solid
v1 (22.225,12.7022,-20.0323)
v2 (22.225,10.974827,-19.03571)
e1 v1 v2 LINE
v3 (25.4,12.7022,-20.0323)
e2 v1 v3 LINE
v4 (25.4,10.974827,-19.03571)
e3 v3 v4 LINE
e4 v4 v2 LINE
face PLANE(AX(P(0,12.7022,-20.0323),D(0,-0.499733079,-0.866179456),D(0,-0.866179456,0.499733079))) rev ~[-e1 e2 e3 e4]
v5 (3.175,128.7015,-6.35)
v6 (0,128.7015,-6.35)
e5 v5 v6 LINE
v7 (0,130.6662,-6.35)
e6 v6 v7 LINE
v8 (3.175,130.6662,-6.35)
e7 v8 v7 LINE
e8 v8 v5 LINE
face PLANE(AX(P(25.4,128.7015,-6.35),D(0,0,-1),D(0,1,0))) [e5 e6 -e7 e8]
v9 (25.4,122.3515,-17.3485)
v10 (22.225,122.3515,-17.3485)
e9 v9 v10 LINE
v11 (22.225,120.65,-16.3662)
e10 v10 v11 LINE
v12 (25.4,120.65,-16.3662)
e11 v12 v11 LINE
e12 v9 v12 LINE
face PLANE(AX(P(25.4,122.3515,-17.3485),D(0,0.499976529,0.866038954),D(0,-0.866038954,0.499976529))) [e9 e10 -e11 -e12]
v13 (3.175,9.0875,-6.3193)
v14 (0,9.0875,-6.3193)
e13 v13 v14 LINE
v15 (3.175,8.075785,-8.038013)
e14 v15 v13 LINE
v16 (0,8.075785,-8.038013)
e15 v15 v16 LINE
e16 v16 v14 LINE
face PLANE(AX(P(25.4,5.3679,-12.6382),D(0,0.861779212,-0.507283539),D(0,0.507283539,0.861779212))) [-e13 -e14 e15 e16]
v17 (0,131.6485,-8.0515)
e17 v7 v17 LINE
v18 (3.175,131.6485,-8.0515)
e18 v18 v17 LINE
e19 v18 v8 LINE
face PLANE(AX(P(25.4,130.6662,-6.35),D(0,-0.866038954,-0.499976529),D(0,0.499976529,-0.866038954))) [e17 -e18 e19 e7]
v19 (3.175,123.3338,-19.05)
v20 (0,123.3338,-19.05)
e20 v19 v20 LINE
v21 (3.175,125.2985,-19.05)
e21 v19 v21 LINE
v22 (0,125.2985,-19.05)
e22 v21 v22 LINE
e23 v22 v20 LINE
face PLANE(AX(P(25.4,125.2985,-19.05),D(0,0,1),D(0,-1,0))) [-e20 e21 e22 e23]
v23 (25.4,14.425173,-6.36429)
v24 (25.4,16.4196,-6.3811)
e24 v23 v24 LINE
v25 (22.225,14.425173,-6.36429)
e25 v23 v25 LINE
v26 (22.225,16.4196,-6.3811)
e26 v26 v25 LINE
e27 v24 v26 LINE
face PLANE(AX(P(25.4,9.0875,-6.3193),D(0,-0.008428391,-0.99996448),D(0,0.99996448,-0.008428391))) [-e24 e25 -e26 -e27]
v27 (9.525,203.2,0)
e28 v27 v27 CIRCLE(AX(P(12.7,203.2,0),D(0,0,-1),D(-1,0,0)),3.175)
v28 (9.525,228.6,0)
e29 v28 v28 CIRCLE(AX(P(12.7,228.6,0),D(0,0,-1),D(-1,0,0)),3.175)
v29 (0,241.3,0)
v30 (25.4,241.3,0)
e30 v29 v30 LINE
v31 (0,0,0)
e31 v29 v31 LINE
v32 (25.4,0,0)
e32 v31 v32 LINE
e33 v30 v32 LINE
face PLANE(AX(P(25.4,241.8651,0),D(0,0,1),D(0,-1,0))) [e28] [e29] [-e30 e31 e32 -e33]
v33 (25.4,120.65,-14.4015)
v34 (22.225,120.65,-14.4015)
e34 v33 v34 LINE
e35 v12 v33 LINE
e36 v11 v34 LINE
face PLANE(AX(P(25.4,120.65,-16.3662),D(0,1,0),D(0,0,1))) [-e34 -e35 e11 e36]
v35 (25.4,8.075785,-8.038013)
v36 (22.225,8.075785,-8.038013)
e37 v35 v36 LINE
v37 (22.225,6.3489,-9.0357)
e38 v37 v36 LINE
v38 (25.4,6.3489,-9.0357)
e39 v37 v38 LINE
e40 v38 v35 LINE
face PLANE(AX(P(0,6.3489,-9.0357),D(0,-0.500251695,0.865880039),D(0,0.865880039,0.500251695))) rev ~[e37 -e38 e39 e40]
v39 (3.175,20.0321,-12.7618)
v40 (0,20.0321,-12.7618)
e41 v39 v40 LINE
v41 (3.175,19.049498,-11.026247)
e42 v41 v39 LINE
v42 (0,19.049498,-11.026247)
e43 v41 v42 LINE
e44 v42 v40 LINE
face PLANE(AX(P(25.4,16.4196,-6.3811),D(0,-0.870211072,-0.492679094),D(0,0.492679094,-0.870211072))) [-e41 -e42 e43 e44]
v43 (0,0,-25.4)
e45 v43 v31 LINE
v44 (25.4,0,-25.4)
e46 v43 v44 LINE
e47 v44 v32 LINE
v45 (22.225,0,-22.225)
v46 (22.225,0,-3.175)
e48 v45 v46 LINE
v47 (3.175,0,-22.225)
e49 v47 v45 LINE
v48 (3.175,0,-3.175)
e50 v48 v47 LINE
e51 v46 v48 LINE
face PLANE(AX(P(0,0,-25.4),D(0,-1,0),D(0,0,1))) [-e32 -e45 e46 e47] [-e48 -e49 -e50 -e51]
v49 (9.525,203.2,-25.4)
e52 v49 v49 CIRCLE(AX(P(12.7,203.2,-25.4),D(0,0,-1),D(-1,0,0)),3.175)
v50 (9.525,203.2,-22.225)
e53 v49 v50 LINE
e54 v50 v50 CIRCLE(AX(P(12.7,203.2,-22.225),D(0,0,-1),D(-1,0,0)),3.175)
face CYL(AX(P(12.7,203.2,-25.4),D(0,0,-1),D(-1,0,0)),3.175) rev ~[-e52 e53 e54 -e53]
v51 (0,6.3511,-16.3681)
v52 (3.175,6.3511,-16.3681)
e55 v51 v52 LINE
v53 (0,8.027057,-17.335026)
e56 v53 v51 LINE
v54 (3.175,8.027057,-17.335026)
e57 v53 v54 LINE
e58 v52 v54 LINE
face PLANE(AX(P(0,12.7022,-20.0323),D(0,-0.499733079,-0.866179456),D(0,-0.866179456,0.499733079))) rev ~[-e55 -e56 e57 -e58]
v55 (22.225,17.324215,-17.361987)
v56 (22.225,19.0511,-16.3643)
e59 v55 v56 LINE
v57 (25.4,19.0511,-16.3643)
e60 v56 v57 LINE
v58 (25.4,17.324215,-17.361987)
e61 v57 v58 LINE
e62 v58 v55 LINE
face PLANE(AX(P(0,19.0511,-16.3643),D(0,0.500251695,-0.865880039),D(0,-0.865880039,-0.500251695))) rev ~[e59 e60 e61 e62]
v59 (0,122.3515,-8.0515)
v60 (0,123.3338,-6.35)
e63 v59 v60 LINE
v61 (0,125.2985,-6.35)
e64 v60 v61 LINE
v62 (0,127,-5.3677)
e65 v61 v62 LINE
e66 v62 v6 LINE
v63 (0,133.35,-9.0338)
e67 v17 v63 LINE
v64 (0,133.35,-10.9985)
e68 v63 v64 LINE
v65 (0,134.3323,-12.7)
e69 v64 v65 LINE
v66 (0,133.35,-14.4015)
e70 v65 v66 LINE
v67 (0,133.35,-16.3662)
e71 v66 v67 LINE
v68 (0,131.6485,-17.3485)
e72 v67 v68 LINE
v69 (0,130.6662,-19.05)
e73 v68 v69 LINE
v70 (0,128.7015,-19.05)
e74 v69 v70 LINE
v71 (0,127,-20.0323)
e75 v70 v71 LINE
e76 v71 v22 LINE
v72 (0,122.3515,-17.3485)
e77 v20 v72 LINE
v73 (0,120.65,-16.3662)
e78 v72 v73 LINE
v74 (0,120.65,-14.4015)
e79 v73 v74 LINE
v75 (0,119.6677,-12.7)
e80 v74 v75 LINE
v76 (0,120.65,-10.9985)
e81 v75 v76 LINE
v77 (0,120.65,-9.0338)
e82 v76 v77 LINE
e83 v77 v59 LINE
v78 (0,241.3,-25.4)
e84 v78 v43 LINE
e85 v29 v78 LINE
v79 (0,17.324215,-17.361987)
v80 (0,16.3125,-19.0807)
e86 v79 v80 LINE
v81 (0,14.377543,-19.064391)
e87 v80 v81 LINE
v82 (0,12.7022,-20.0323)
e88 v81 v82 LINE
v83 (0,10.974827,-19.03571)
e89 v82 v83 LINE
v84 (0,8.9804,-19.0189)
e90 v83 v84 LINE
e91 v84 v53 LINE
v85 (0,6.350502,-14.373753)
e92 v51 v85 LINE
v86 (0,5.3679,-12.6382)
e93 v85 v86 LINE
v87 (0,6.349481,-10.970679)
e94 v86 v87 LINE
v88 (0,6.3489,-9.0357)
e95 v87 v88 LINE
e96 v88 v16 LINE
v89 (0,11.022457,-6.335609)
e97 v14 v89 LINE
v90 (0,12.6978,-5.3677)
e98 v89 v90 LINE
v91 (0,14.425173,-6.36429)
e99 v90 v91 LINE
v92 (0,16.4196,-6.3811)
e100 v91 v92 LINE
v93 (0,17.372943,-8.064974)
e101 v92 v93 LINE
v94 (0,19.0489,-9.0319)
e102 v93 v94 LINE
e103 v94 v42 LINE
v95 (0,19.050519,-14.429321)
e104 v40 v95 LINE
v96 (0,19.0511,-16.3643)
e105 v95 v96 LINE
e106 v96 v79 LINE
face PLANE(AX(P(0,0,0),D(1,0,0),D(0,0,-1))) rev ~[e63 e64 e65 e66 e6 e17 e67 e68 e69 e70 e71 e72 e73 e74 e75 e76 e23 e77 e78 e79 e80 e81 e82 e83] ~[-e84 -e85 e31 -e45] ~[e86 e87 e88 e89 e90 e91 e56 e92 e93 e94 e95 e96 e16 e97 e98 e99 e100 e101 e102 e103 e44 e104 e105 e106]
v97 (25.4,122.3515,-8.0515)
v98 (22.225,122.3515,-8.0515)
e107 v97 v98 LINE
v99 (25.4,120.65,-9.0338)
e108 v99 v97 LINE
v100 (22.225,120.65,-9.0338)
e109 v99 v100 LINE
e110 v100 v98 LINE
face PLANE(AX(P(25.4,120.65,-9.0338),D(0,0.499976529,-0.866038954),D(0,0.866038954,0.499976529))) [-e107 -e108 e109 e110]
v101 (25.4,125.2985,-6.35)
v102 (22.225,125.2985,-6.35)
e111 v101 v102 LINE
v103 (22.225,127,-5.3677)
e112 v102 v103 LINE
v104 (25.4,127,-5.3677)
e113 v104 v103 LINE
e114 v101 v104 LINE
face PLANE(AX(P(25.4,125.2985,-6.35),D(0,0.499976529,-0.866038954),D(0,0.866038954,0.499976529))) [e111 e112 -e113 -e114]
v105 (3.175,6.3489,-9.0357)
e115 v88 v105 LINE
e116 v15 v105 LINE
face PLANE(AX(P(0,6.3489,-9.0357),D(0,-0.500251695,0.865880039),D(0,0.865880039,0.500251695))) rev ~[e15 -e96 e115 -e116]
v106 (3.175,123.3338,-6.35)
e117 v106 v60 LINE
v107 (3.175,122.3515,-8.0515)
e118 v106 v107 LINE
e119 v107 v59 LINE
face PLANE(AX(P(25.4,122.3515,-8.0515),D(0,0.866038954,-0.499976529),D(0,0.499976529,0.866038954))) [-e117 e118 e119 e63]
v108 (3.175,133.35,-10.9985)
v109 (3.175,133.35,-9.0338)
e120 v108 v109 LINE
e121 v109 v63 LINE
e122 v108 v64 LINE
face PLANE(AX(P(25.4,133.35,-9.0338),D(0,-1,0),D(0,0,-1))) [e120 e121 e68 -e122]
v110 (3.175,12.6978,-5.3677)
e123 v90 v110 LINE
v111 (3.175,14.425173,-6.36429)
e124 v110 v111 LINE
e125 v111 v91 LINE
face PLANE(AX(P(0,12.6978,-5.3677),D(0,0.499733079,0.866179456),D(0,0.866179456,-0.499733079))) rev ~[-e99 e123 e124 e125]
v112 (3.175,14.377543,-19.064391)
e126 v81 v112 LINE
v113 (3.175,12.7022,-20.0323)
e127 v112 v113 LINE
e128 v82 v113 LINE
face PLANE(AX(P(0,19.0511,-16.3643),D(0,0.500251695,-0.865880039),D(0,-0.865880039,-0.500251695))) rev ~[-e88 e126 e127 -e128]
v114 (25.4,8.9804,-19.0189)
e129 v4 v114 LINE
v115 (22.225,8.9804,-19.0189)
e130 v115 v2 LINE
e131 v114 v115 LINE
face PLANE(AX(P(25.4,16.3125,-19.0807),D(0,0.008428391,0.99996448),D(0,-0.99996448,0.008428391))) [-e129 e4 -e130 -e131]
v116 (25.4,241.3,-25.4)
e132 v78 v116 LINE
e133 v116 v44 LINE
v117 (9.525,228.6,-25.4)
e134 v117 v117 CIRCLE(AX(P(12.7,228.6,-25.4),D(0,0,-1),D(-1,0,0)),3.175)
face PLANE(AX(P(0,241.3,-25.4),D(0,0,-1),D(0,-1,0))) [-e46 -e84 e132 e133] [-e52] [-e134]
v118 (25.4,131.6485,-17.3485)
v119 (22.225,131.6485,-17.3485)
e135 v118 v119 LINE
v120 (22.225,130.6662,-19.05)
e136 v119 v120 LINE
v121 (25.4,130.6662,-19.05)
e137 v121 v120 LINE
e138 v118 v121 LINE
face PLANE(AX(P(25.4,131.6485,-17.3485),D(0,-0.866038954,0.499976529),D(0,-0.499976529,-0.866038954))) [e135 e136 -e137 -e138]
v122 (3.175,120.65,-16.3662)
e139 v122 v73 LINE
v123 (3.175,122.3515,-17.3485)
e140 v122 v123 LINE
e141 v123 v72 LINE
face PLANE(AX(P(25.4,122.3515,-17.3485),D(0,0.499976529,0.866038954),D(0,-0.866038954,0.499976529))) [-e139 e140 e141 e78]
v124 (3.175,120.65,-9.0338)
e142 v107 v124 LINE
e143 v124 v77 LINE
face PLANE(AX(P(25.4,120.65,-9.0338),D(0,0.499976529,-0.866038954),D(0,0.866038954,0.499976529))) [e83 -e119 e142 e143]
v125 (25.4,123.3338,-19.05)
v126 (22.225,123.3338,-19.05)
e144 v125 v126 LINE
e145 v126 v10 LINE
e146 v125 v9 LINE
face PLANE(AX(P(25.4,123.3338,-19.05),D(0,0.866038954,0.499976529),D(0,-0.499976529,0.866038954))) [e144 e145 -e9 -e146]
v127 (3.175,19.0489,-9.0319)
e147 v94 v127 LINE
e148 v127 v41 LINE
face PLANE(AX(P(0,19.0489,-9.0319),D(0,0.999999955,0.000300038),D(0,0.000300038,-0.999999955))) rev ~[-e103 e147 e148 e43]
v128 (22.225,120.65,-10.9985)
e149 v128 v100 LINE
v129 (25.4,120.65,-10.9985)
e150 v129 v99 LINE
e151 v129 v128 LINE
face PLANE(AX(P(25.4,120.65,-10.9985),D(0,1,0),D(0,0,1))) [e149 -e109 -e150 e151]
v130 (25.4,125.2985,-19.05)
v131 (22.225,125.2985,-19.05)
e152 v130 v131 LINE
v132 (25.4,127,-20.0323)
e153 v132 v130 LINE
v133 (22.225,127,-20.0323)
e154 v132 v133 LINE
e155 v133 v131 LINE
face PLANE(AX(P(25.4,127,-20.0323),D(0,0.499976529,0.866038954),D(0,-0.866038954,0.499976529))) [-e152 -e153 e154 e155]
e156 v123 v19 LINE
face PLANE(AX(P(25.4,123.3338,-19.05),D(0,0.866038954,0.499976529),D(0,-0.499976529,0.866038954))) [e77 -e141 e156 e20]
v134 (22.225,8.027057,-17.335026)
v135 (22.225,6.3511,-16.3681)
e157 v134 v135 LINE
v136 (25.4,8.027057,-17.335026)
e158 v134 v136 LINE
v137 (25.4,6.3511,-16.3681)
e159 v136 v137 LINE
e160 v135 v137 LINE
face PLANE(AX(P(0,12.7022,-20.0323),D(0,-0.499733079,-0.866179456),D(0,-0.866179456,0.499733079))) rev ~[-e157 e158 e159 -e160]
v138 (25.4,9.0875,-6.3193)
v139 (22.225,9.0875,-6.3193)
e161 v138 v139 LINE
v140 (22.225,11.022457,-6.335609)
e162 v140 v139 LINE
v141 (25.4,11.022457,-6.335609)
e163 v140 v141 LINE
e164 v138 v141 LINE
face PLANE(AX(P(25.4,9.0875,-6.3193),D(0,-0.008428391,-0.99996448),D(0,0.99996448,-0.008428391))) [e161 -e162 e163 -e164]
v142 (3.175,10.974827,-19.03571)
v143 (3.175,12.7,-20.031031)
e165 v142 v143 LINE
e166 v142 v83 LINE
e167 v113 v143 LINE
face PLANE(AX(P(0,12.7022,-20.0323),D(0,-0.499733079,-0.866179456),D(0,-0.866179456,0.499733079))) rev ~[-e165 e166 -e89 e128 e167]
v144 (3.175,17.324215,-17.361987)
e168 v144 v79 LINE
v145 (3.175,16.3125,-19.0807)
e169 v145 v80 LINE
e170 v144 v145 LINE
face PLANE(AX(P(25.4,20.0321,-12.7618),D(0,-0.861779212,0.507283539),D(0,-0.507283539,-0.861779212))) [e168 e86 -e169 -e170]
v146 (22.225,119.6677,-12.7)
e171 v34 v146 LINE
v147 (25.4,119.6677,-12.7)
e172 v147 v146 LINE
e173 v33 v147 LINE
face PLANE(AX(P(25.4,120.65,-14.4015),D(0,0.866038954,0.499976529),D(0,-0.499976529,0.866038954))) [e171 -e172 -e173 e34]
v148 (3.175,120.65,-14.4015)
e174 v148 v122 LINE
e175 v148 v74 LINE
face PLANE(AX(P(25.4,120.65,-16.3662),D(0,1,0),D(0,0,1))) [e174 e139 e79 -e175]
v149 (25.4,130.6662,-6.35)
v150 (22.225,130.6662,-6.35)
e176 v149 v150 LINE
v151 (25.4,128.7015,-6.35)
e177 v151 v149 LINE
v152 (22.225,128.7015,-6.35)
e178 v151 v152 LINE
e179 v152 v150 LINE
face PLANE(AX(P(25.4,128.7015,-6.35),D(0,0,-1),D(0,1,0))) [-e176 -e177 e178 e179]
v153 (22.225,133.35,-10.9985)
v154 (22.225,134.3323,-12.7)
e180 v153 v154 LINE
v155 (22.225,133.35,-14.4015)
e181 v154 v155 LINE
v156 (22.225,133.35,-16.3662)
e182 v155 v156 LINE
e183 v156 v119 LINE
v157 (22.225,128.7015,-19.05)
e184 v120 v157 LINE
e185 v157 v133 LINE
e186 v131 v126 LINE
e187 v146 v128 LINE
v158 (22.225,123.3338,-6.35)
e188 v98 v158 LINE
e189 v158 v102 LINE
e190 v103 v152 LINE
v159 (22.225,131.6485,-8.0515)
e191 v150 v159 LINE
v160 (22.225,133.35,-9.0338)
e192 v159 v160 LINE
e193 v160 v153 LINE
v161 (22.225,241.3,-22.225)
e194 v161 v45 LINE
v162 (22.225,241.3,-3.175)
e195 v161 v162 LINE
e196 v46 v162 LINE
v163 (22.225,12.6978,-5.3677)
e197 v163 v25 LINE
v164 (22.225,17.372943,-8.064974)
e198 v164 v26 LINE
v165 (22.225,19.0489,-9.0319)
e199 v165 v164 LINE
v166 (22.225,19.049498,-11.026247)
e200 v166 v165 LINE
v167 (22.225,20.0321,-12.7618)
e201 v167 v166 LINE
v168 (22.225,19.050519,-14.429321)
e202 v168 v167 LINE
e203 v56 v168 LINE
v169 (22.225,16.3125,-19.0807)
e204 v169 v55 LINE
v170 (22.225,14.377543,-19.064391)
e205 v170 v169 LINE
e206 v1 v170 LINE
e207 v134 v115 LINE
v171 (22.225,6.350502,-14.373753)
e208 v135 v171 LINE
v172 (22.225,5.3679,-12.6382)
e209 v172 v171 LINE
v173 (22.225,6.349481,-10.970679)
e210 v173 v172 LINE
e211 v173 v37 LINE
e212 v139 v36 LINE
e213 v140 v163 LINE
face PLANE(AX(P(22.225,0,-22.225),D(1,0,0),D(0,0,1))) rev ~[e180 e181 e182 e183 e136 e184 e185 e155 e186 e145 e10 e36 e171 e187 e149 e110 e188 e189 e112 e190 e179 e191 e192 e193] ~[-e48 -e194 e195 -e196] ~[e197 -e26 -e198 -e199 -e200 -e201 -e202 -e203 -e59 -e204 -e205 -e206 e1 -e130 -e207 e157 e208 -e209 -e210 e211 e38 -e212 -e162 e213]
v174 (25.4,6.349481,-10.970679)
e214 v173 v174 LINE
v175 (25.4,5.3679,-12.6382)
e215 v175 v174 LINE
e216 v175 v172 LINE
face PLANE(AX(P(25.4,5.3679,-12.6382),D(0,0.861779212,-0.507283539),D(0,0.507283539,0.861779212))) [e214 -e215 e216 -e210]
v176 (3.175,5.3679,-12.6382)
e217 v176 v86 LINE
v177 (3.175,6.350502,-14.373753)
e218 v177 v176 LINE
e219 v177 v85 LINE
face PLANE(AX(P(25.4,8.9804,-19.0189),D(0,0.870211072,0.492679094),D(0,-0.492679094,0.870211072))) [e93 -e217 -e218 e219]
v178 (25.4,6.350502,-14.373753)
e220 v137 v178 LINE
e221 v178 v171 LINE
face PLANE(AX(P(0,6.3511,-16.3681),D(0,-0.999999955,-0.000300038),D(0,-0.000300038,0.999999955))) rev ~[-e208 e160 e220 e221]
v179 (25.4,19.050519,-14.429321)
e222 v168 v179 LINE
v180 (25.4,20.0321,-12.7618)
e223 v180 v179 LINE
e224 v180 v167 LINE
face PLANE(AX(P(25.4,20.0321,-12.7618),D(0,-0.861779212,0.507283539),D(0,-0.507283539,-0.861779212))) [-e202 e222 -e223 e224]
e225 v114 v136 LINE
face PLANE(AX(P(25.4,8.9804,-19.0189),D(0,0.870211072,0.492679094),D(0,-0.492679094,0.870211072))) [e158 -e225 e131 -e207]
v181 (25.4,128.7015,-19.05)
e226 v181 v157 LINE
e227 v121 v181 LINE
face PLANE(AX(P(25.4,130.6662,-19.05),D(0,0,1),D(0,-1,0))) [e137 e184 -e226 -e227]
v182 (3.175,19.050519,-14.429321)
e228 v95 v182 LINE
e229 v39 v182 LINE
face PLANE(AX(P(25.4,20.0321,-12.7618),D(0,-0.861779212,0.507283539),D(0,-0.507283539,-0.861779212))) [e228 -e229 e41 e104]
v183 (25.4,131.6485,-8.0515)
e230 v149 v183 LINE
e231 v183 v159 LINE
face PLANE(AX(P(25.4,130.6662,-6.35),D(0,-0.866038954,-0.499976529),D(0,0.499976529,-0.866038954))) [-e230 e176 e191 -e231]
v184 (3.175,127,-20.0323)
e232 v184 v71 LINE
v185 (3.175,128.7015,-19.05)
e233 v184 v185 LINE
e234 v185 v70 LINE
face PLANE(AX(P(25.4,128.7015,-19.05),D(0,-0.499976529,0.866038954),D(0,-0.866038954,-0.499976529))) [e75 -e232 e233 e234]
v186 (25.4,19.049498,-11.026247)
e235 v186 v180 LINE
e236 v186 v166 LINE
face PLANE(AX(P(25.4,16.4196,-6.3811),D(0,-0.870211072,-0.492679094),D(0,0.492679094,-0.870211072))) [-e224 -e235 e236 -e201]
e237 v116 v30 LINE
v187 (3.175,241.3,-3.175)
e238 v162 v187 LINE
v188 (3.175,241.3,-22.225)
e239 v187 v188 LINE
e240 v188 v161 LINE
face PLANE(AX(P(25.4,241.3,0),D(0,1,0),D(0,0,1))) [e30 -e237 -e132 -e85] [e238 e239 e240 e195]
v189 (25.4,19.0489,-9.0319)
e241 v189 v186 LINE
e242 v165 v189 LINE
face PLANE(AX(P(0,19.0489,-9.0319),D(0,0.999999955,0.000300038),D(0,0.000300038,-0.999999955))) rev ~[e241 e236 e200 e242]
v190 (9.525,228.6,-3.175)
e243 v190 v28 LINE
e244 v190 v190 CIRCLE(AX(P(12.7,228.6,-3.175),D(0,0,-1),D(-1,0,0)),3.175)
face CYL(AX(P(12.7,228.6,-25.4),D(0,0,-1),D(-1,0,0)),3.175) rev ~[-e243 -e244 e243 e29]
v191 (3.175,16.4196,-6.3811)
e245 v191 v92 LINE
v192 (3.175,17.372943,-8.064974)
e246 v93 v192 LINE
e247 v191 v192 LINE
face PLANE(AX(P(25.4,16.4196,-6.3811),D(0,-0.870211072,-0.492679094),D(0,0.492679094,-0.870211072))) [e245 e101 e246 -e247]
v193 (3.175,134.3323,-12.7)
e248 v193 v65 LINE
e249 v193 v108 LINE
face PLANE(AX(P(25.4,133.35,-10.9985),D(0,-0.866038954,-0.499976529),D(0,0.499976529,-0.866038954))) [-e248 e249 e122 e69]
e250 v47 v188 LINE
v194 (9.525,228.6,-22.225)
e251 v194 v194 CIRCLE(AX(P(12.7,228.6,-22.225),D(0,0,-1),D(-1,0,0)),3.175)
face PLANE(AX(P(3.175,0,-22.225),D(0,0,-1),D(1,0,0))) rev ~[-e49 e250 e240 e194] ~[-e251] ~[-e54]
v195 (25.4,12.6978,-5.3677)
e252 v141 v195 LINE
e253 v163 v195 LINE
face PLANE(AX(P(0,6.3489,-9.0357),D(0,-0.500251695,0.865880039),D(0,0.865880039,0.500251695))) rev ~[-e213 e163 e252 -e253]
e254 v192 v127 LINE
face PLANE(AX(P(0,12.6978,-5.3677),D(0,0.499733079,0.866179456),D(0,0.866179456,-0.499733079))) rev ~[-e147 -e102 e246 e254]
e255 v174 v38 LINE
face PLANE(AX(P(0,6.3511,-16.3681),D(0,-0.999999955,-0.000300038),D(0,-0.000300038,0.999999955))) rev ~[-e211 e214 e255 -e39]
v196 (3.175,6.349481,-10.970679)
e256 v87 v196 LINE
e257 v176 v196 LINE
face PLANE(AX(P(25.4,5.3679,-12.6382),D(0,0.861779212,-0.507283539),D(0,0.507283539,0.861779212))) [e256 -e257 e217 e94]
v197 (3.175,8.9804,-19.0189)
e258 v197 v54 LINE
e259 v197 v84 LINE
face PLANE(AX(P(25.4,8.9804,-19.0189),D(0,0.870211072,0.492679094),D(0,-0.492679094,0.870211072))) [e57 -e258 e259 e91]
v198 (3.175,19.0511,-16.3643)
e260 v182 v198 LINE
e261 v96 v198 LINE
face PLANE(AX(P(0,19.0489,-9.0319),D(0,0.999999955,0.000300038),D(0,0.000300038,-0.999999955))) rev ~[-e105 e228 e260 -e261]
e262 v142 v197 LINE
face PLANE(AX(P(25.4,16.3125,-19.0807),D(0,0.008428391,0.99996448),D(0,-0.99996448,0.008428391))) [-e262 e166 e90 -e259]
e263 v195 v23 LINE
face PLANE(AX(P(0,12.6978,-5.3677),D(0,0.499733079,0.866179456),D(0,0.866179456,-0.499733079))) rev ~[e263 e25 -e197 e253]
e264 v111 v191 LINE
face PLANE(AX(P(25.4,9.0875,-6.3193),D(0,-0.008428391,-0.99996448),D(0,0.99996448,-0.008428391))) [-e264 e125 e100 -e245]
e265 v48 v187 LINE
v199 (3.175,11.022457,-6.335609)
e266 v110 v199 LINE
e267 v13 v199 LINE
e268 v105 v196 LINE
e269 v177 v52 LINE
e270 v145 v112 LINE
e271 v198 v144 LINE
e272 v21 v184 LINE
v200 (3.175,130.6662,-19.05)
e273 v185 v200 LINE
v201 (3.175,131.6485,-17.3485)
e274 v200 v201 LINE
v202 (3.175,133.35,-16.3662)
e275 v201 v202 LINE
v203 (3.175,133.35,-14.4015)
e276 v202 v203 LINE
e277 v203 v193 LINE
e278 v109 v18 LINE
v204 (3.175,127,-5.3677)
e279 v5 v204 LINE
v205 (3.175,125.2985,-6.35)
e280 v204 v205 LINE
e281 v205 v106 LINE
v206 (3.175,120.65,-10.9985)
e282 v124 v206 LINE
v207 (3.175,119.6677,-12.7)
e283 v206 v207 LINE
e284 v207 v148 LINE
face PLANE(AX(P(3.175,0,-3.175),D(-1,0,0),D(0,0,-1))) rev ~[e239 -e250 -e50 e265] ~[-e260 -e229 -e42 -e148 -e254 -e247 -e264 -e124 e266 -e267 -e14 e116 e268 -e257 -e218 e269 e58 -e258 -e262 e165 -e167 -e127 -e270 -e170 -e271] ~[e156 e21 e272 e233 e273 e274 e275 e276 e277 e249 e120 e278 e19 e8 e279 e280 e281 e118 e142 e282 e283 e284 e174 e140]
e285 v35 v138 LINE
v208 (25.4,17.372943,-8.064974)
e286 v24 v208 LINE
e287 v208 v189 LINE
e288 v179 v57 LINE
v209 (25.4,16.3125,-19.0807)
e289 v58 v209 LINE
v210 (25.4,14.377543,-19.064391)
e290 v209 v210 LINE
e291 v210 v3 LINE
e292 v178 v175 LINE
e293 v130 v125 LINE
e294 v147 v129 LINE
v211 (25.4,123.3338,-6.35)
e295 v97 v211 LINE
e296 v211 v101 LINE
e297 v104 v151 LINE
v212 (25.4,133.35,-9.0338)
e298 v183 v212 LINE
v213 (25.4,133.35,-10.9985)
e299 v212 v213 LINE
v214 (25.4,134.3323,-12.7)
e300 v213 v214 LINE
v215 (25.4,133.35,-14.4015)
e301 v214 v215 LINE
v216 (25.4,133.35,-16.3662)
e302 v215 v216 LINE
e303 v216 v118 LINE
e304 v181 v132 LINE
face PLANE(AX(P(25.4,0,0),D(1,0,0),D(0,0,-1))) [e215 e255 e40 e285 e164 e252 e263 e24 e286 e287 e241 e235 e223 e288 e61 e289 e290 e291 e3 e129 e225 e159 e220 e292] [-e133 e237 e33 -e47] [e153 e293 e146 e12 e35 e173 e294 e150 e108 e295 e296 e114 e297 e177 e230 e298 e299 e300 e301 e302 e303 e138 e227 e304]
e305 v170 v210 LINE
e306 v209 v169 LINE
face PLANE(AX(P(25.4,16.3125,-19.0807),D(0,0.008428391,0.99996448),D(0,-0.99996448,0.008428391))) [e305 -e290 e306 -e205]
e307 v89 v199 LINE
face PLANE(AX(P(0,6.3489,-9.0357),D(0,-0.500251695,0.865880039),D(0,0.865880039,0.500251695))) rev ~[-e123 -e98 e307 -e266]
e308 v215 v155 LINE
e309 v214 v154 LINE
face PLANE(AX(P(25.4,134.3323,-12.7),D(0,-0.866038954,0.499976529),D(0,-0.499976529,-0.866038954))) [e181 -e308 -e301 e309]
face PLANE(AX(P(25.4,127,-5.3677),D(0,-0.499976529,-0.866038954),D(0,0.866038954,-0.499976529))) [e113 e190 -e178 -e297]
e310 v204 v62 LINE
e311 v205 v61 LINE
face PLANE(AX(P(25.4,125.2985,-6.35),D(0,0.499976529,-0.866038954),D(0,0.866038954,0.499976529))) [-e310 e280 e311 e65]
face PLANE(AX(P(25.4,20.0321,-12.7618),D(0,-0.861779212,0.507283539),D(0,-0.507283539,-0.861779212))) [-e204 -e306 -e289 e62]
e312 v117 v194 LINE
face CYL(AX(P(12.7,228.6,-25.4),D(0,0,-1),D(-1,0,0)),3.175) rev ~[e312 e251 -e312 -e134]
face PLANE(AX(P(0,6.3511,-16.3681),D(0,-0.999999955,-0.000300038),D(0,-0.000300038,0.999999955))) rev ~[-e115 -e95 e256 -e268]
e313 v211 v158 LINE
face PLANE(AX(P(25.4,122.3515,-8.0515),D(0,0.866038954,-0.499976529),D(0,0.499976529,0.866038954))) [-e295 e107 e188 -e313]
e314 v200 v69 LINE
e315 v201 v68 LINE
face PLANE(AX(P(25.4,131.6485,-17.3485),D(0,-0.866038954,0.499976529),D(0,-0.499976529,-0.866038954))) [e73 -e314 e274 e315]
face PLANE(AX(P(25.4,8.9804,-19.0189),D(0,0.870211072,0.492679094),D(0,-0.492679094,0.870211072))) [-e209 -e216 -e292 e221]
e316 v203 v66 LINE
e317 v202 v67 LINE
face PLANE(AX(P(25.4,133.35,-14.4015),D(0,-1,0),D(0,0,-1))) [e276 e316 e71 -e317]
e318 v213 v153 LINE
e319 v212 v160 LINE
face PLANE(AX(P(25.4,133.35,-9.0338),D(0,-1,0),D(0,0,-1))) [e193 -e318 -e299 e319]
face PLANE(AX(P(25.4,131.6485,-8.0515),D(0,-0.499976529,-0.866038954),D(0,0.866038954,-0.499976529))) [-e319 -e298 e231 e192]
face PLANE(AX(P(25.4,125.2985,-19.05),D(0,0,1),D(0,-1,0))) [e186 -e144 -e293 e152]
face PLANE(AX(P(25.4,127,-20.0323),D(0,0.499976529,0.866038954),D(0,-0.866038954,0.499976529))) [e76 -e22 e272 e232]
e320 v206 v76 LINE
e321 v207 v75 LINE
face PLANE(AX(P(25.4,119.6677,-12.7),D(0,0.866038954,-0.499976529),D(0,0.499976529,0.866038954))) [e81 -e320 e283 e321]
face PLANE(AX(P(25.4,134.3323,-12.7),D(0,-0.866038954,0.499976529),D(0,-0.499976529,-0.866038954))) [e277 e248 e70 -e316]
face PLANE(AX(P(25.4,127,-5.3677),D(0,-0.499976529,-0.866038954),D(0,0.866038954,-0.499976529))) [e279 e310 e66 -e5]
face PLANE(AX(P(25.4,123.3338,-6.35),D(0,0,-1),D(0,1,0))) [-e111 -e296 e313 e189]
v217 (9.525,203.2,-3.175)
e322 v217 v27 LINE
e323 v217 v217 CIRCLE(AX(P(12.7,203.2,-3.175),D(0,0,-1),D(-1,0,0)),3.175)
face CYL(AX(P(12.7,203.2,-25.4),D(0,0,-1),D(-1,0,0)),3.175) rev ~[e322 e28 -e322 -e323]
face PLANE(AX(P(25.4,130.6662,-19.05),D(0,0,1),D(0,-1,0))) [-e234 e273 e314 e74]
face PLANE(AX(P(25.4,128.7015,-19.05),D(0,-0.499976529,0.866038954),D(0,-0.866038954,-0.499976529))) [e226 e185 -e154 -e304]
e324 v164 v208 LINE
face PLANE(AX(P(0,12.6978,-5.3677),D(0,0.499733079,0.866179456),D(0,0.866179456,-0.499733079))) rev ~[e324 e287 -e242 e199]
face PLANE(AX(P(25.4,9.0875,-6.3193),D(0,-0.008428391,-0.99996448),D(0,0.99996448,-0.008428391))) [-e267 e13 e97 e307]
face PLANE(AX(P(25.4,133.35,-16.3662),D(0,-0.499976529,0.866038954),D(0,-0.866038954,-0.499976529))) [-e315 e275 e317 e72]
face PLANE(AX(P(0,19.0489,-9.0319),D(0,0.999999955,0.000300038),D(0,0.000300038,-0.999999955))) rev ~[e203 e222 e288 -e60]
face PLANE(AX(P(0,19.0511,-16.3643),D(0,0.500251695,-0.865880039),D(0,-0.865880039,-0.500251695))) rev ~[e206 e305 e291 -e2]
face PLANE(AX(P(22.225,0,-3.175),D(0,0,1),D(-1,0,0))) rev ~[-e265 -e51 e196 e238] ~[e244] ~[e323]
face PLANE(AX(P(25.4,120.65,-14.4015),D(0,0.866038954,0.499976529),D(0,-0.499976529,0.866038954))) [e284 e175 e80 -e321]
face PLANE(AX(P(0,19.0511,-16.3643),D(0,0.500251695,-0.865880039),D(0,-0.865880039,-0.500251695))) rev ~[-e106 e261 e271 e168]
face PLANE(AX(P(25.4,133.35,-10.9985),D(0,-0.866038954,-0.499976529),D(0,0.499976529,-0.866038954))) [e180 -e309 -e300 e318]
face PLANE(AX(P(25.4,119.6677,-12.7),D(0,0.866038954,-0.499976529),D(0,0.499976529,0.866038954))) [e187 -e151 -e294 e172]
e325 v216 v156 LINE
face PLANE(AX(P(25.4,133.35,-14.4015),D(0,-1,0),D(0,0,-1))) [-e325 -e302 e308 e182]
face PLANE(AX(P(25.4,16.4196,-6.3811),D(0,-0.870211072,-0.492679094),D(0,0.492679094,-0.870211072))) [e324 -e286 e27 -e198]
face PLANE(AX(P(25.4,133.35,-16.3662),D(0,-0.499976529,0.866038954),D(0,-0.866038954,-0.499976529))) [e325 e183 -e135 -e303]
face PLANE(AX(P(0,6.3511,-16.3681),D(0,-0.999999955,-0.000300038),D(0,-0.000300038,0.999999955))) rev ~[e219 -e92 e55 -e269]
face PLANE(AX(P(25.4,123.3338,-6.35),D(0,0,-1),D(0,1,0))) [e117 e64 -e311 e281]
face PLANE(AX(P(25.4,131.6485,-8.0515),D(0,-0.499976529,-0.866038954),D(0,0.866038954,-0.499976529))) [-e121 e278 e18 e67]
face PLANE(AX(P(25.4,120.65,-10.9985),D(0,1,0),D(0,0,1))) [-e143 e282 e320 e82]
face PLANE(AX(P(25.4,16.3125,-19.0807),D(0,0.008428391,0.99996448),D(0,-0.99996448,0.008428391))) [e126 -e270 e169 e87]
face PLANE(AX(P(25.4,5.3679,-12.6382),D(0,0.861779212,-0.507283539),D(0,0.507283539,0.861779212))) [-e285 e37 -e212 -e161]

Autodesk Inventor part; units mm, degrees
ref_plane "YZ Plane" through (0, 0, 0) normal (1, 0, 0) x (0, 1, 0)
ref_plane "XZ Plane" through (0, 0, 0) normal (0, 1, 0) x (-1, 0, 0)
ref_plane "XY Plane" through (0, 0, 0) normal (0, 0, 1) x (1, 0, 0)
sketch "Sketch1" plane through (0, 0, 0) normal (1, 0, 0) x (0, 1, 0)
  line L0 (0, 0) -> (241.3, 0)
  line L1 (241.3, 0) -> (241.3, -25.4)
  line L2 (241.3, -25.4) -> (0, -25.4)
  line L3 (0, -25.4) -> (0, 0)
  line L4 (6.3489, -9.0357) -> (12.6978, -5.3677)
  line L5 (12.6978, -5.3677) -> (19.0489, -9.0319)
  line L6 (19.0489, -9.0319) -> (19.0511, -16.3643)
  line L7 (19.0511, -16.3643) -> (12.7022, -20.0323)
  line L8 (12.7022, -20.0323) -> (6.3511, -16.3681)
  line L9 (6.3511, -16.3681) -> (6.3489, -9.0357)
  point P0 (12.7, -12.7)
  dimension "d0" = 241.3
  dimension "d1" = 25.4
  dimension "d3" = 12.7
  dimension "d4" = 12.7
extrude "Extrusion1" add sketch "Sketch1" along normal blind 25.4
sketch "Sketch2" plane through (0, 241.3, 0) normal (0, 1, 0) x (1, 0, 0)
  line L0 (0, 25.4) -> (25.4, 25.4) projected
  line L1 (0, 0) -> (25.4, 0)
  line L2 (25.4, 0) -> (25.4, 25.4)
  line L3 (25.4, 25.4) -> (0, 25.4)
  line L4 (0, 25.4) -> (0, 0)
  line L5 (22.225, 3.175) -> (3.175, 3.175)
  line L6 (3.175, 3.175) -> (3.175, 22.225)
  line L7 (3.175, 22.225) -> (22.225, 22.225)
  line L8 (22.225, 22.225) -> (22.225, 3.175)
  dimension "d7" = 3.175
extrude "Extrusion2" cut sketch "Sketch2" against normal blind 228.6 contours L5 L6 L7 L8
sketch "Sketch3" plane through (25.4, 0, 0) normal (1, 0, 0) x (0, 0, -1)
  line L0 (0, 241.3) -> (0, 190.5)
  line L1 (0, 0) -> (0, 241.3) projected
  line L2 (0, 241.3) -> (-3.175, 241.3)
  line L3 (-3.175, 241.3) -> (-3.175, 190.5)
  line L4 (-3.175, 190.5) -> (0, 190.5)
  line L5 (0, 190.5) -> (0, 241.3)
  arc A0 (-3.175, 241.3) -> (-46.143, 196.9282) centre (-8.4506, 203.4185) ccw
  line L6 (-3.175, 241.3) -> (-3.175, 238.125)
  arc A1 (-3.175, 238.125) -> (-42.9327, 197.9157) centre (-7.6224, 202.7623) ccw
  line L7 (-42.9327, 197.9157) -> (-46.143, 196.9282)
  dimension "d11" = 50.8
  dimension "d13" = 3.175
  dimension "d15" = 3.175
extrude "Extrusion3" add sketch "Sketch3" against normal blind 25.4 contours L0 L4 L3 L2
sketch "Sketch4" plane through (25.4, 0, 0) normal (1, 0, 0) x (0, 0, -1)
  point P0 (0, 0)
sketch "Sketch5" plane through (25.4, 0, 0) normal (1, 0, 0) x (0, 0, -1)
  line L0 (-3.175, 241.3) -> (-3.175, 190.5) projected
  line L1 (-3.175, 241.3) -> (-3.175, 196.85)
  line L2 (-3.175, 196.85) -> (-41.275, 196.85)
  arc A0 (-3.175, 241.3) -> (-41.275, 196.85) centre (-8.1247, 206.989) ccw
  line L3 (-41.275, 196.85) -> (-38.5091, 198.4089)
  line L4 (-3.175, 241.3) -> (-3.175, 238.125)
  arc A1 (-3.175, 238.125) -> (-38.5091, 198.4089) centre (-8.433, 207.227) ccw
  point P0 (0, 0)
  dimension "d18" = 44.45
  dimension "d19" = 38.1
  dimension "d20" = 3.175
  dimension "d21" = 3.175
extrude "Extrusion4" add sketch "Sketch5" against normal blind 25.4 contours L0 A1 L3 A0
sketch "Sketch6" plane through (25.4, 0, 0) normal (1, 0, 0) x (0, 0, -1)
  line L0 (0, 0) -> (25.4, 0) projected
  line L1 (25.4, 0) -> (25.4, 241.3) projected
  line L2 (12.7618, 20.0321) -> (19.0807, 16.3125)
  line L3 (19.0807, 16.3125) -> (19.0189, 8.9804)
  line L4 (19.0189, 8.9804) -> (12.6382, 5.3679)
  line L5 (12.6382, 5.3679) -> (6.3193, 9.0875)
  line L6 (6.3193, 9.0875) -> (6.3811, 16.4196)
  line L7 (6.3811, 16.4196) -> (12.7618, 20.0321)
  point P0 (12.7, 12.7)
  point P1 (12.7, 12.7)
  dimension "d25" = 12.7
  dimension "d26" = 12.7
  dimension "d27" = 12.7
extrude "Extrusion5" cut sketch "Sketch6" against normal blind 25.4
sketch "Sketch7" plane through (25.4, 0, 0) normal (1, 0, 0) x (0, 0, -1)
  line L0 (0, 0) -> (0, 190.5) projected
  line L1 (0, 190.5) -> (-43.4485, 190.5)
  line L2 (-43.4485, 190.5) -> (-43.4485, 241.8651)
  line L3 (-43.4485, 241.8651) -> (0, 241.8651)
  line L4 (0, 241.8651) -> (0, 190.5)
extrude "Extrusion6" cut sketch "Sketch7" against normal blind 25.4
sketch "Sketch8" plane through (0, 0, -25.4) normal (0, -1, 0) x (1, 0, 0)
  line L0 (22.225, 22.225) -> (3.175, 22.225) projected
  line L1 (3.175, 3.175) -> (22.225, 3.175) projected
  line L2 (22.225, 22.225) -> (3.175, 22.225)
  line L3 (3.175, 22.225) -> (3.175, 3.175)
  line L4 (3.175, 3.175) -> (22.225, 3.175)
  line L5 (22.225, 3.175) -> (22.225, 22.225)
  point P0 (0, 25.4)
extrude "Extrusion7" cut sketch "Sketch8" against normal blind 25.4
sketch "Sketch9" plane through (25.4, 0, 0) normal (1, 0, 0) x (0, 0, -1)
  line L0 (0, 0) -> (25.4, 0) projected
  line L1 (9.0338, 133.35) -> (10.9985, 133.35)
  line L2 (14.4015, 133.35) -> (16.3662, 133.35)
  line L3 (12.7, 134.3323) -> (14.4015, 133.35)
  line L4 (17.3485, 131.6485) -> (19.05, 130.6662)
  line L5 (16.3662, 133.35) -> (17.3485, 131.6485)
  line L6 (19.05, 128.7015) -> (20.0323, 127)
  line L7 (19.05, 130.6662) -> (19.05, 128.7015)
  line L8 (19.05, 125.2985) -> (19.05, 123.3338)
  line L9 (20.0323, 127) -> (19.05, 125.2985)
  line L10 (17.3485, 122.3515) -> (16.3662, 120.65)
  line L11 (19.05, 123.3338) -> (17.3485, 122.3515)
  line L12 (14.4015, 120.65) -> (12.7, 119.6677)
  line L13 (16.3662, 120.65) -> (14.4015, 120.65)
  line L14 (10.9985, 120.65) -> (9.0338, 120.65)
  line L15 (12.7, 119.6677) -> (10.9985, 120.65)
  line L16 (8.0515, 122.3515) -> (6.35, 123.3338)
  line L17 (9.0338, 120.65) -> (8.0515, 122.3515)
  line L18 (6.35, 125.2985) -> (5.3677, 127)
  line L19 (6.35, 123.3338) -> (6.35, 125.2985)
  line L20 (6.35, 128.7015) -> (6.35, 130.6662)
  line L21 (5.3677, 127) -> (6.35, 128.7015)
  line L22 (8.0515, 131.6485) -> (9.0338, 133.35)
  line L23 (6.35, 130.6662) -> (8.0515, 131.6485)
  line L24 (10.9985, 133.35) -> (12.7, 134.3323)
  point P0 (12.7, 127)
  point P1 (12.7, 127)
  dimension "d35" = 127
extrude "Extrusion8" cut sketch "Sketch9" against normal blind 25.4
sketch "Sketch10" plane through (0, 0, -25.4) normal (0, 0, -1) x (-1, 0, 0)
  circle A0 centre (-12.7, 228.6) radius 3.175
  circle A1 centre (-12.7, 203.2) radius 3.175
  line L0 (0, 241.3) -> (-25.4, 241.3) projected
  point P0 (0, 0)
  dimension "d39" = 6.35
  dimension "d40" = 6.35
  dimension "d41" = 12.7
  dimension "d42" = 38.1
extrude "Extrusion9" cut sketch "Sketch10" against normal blind 25.4
properties part number "claw"
